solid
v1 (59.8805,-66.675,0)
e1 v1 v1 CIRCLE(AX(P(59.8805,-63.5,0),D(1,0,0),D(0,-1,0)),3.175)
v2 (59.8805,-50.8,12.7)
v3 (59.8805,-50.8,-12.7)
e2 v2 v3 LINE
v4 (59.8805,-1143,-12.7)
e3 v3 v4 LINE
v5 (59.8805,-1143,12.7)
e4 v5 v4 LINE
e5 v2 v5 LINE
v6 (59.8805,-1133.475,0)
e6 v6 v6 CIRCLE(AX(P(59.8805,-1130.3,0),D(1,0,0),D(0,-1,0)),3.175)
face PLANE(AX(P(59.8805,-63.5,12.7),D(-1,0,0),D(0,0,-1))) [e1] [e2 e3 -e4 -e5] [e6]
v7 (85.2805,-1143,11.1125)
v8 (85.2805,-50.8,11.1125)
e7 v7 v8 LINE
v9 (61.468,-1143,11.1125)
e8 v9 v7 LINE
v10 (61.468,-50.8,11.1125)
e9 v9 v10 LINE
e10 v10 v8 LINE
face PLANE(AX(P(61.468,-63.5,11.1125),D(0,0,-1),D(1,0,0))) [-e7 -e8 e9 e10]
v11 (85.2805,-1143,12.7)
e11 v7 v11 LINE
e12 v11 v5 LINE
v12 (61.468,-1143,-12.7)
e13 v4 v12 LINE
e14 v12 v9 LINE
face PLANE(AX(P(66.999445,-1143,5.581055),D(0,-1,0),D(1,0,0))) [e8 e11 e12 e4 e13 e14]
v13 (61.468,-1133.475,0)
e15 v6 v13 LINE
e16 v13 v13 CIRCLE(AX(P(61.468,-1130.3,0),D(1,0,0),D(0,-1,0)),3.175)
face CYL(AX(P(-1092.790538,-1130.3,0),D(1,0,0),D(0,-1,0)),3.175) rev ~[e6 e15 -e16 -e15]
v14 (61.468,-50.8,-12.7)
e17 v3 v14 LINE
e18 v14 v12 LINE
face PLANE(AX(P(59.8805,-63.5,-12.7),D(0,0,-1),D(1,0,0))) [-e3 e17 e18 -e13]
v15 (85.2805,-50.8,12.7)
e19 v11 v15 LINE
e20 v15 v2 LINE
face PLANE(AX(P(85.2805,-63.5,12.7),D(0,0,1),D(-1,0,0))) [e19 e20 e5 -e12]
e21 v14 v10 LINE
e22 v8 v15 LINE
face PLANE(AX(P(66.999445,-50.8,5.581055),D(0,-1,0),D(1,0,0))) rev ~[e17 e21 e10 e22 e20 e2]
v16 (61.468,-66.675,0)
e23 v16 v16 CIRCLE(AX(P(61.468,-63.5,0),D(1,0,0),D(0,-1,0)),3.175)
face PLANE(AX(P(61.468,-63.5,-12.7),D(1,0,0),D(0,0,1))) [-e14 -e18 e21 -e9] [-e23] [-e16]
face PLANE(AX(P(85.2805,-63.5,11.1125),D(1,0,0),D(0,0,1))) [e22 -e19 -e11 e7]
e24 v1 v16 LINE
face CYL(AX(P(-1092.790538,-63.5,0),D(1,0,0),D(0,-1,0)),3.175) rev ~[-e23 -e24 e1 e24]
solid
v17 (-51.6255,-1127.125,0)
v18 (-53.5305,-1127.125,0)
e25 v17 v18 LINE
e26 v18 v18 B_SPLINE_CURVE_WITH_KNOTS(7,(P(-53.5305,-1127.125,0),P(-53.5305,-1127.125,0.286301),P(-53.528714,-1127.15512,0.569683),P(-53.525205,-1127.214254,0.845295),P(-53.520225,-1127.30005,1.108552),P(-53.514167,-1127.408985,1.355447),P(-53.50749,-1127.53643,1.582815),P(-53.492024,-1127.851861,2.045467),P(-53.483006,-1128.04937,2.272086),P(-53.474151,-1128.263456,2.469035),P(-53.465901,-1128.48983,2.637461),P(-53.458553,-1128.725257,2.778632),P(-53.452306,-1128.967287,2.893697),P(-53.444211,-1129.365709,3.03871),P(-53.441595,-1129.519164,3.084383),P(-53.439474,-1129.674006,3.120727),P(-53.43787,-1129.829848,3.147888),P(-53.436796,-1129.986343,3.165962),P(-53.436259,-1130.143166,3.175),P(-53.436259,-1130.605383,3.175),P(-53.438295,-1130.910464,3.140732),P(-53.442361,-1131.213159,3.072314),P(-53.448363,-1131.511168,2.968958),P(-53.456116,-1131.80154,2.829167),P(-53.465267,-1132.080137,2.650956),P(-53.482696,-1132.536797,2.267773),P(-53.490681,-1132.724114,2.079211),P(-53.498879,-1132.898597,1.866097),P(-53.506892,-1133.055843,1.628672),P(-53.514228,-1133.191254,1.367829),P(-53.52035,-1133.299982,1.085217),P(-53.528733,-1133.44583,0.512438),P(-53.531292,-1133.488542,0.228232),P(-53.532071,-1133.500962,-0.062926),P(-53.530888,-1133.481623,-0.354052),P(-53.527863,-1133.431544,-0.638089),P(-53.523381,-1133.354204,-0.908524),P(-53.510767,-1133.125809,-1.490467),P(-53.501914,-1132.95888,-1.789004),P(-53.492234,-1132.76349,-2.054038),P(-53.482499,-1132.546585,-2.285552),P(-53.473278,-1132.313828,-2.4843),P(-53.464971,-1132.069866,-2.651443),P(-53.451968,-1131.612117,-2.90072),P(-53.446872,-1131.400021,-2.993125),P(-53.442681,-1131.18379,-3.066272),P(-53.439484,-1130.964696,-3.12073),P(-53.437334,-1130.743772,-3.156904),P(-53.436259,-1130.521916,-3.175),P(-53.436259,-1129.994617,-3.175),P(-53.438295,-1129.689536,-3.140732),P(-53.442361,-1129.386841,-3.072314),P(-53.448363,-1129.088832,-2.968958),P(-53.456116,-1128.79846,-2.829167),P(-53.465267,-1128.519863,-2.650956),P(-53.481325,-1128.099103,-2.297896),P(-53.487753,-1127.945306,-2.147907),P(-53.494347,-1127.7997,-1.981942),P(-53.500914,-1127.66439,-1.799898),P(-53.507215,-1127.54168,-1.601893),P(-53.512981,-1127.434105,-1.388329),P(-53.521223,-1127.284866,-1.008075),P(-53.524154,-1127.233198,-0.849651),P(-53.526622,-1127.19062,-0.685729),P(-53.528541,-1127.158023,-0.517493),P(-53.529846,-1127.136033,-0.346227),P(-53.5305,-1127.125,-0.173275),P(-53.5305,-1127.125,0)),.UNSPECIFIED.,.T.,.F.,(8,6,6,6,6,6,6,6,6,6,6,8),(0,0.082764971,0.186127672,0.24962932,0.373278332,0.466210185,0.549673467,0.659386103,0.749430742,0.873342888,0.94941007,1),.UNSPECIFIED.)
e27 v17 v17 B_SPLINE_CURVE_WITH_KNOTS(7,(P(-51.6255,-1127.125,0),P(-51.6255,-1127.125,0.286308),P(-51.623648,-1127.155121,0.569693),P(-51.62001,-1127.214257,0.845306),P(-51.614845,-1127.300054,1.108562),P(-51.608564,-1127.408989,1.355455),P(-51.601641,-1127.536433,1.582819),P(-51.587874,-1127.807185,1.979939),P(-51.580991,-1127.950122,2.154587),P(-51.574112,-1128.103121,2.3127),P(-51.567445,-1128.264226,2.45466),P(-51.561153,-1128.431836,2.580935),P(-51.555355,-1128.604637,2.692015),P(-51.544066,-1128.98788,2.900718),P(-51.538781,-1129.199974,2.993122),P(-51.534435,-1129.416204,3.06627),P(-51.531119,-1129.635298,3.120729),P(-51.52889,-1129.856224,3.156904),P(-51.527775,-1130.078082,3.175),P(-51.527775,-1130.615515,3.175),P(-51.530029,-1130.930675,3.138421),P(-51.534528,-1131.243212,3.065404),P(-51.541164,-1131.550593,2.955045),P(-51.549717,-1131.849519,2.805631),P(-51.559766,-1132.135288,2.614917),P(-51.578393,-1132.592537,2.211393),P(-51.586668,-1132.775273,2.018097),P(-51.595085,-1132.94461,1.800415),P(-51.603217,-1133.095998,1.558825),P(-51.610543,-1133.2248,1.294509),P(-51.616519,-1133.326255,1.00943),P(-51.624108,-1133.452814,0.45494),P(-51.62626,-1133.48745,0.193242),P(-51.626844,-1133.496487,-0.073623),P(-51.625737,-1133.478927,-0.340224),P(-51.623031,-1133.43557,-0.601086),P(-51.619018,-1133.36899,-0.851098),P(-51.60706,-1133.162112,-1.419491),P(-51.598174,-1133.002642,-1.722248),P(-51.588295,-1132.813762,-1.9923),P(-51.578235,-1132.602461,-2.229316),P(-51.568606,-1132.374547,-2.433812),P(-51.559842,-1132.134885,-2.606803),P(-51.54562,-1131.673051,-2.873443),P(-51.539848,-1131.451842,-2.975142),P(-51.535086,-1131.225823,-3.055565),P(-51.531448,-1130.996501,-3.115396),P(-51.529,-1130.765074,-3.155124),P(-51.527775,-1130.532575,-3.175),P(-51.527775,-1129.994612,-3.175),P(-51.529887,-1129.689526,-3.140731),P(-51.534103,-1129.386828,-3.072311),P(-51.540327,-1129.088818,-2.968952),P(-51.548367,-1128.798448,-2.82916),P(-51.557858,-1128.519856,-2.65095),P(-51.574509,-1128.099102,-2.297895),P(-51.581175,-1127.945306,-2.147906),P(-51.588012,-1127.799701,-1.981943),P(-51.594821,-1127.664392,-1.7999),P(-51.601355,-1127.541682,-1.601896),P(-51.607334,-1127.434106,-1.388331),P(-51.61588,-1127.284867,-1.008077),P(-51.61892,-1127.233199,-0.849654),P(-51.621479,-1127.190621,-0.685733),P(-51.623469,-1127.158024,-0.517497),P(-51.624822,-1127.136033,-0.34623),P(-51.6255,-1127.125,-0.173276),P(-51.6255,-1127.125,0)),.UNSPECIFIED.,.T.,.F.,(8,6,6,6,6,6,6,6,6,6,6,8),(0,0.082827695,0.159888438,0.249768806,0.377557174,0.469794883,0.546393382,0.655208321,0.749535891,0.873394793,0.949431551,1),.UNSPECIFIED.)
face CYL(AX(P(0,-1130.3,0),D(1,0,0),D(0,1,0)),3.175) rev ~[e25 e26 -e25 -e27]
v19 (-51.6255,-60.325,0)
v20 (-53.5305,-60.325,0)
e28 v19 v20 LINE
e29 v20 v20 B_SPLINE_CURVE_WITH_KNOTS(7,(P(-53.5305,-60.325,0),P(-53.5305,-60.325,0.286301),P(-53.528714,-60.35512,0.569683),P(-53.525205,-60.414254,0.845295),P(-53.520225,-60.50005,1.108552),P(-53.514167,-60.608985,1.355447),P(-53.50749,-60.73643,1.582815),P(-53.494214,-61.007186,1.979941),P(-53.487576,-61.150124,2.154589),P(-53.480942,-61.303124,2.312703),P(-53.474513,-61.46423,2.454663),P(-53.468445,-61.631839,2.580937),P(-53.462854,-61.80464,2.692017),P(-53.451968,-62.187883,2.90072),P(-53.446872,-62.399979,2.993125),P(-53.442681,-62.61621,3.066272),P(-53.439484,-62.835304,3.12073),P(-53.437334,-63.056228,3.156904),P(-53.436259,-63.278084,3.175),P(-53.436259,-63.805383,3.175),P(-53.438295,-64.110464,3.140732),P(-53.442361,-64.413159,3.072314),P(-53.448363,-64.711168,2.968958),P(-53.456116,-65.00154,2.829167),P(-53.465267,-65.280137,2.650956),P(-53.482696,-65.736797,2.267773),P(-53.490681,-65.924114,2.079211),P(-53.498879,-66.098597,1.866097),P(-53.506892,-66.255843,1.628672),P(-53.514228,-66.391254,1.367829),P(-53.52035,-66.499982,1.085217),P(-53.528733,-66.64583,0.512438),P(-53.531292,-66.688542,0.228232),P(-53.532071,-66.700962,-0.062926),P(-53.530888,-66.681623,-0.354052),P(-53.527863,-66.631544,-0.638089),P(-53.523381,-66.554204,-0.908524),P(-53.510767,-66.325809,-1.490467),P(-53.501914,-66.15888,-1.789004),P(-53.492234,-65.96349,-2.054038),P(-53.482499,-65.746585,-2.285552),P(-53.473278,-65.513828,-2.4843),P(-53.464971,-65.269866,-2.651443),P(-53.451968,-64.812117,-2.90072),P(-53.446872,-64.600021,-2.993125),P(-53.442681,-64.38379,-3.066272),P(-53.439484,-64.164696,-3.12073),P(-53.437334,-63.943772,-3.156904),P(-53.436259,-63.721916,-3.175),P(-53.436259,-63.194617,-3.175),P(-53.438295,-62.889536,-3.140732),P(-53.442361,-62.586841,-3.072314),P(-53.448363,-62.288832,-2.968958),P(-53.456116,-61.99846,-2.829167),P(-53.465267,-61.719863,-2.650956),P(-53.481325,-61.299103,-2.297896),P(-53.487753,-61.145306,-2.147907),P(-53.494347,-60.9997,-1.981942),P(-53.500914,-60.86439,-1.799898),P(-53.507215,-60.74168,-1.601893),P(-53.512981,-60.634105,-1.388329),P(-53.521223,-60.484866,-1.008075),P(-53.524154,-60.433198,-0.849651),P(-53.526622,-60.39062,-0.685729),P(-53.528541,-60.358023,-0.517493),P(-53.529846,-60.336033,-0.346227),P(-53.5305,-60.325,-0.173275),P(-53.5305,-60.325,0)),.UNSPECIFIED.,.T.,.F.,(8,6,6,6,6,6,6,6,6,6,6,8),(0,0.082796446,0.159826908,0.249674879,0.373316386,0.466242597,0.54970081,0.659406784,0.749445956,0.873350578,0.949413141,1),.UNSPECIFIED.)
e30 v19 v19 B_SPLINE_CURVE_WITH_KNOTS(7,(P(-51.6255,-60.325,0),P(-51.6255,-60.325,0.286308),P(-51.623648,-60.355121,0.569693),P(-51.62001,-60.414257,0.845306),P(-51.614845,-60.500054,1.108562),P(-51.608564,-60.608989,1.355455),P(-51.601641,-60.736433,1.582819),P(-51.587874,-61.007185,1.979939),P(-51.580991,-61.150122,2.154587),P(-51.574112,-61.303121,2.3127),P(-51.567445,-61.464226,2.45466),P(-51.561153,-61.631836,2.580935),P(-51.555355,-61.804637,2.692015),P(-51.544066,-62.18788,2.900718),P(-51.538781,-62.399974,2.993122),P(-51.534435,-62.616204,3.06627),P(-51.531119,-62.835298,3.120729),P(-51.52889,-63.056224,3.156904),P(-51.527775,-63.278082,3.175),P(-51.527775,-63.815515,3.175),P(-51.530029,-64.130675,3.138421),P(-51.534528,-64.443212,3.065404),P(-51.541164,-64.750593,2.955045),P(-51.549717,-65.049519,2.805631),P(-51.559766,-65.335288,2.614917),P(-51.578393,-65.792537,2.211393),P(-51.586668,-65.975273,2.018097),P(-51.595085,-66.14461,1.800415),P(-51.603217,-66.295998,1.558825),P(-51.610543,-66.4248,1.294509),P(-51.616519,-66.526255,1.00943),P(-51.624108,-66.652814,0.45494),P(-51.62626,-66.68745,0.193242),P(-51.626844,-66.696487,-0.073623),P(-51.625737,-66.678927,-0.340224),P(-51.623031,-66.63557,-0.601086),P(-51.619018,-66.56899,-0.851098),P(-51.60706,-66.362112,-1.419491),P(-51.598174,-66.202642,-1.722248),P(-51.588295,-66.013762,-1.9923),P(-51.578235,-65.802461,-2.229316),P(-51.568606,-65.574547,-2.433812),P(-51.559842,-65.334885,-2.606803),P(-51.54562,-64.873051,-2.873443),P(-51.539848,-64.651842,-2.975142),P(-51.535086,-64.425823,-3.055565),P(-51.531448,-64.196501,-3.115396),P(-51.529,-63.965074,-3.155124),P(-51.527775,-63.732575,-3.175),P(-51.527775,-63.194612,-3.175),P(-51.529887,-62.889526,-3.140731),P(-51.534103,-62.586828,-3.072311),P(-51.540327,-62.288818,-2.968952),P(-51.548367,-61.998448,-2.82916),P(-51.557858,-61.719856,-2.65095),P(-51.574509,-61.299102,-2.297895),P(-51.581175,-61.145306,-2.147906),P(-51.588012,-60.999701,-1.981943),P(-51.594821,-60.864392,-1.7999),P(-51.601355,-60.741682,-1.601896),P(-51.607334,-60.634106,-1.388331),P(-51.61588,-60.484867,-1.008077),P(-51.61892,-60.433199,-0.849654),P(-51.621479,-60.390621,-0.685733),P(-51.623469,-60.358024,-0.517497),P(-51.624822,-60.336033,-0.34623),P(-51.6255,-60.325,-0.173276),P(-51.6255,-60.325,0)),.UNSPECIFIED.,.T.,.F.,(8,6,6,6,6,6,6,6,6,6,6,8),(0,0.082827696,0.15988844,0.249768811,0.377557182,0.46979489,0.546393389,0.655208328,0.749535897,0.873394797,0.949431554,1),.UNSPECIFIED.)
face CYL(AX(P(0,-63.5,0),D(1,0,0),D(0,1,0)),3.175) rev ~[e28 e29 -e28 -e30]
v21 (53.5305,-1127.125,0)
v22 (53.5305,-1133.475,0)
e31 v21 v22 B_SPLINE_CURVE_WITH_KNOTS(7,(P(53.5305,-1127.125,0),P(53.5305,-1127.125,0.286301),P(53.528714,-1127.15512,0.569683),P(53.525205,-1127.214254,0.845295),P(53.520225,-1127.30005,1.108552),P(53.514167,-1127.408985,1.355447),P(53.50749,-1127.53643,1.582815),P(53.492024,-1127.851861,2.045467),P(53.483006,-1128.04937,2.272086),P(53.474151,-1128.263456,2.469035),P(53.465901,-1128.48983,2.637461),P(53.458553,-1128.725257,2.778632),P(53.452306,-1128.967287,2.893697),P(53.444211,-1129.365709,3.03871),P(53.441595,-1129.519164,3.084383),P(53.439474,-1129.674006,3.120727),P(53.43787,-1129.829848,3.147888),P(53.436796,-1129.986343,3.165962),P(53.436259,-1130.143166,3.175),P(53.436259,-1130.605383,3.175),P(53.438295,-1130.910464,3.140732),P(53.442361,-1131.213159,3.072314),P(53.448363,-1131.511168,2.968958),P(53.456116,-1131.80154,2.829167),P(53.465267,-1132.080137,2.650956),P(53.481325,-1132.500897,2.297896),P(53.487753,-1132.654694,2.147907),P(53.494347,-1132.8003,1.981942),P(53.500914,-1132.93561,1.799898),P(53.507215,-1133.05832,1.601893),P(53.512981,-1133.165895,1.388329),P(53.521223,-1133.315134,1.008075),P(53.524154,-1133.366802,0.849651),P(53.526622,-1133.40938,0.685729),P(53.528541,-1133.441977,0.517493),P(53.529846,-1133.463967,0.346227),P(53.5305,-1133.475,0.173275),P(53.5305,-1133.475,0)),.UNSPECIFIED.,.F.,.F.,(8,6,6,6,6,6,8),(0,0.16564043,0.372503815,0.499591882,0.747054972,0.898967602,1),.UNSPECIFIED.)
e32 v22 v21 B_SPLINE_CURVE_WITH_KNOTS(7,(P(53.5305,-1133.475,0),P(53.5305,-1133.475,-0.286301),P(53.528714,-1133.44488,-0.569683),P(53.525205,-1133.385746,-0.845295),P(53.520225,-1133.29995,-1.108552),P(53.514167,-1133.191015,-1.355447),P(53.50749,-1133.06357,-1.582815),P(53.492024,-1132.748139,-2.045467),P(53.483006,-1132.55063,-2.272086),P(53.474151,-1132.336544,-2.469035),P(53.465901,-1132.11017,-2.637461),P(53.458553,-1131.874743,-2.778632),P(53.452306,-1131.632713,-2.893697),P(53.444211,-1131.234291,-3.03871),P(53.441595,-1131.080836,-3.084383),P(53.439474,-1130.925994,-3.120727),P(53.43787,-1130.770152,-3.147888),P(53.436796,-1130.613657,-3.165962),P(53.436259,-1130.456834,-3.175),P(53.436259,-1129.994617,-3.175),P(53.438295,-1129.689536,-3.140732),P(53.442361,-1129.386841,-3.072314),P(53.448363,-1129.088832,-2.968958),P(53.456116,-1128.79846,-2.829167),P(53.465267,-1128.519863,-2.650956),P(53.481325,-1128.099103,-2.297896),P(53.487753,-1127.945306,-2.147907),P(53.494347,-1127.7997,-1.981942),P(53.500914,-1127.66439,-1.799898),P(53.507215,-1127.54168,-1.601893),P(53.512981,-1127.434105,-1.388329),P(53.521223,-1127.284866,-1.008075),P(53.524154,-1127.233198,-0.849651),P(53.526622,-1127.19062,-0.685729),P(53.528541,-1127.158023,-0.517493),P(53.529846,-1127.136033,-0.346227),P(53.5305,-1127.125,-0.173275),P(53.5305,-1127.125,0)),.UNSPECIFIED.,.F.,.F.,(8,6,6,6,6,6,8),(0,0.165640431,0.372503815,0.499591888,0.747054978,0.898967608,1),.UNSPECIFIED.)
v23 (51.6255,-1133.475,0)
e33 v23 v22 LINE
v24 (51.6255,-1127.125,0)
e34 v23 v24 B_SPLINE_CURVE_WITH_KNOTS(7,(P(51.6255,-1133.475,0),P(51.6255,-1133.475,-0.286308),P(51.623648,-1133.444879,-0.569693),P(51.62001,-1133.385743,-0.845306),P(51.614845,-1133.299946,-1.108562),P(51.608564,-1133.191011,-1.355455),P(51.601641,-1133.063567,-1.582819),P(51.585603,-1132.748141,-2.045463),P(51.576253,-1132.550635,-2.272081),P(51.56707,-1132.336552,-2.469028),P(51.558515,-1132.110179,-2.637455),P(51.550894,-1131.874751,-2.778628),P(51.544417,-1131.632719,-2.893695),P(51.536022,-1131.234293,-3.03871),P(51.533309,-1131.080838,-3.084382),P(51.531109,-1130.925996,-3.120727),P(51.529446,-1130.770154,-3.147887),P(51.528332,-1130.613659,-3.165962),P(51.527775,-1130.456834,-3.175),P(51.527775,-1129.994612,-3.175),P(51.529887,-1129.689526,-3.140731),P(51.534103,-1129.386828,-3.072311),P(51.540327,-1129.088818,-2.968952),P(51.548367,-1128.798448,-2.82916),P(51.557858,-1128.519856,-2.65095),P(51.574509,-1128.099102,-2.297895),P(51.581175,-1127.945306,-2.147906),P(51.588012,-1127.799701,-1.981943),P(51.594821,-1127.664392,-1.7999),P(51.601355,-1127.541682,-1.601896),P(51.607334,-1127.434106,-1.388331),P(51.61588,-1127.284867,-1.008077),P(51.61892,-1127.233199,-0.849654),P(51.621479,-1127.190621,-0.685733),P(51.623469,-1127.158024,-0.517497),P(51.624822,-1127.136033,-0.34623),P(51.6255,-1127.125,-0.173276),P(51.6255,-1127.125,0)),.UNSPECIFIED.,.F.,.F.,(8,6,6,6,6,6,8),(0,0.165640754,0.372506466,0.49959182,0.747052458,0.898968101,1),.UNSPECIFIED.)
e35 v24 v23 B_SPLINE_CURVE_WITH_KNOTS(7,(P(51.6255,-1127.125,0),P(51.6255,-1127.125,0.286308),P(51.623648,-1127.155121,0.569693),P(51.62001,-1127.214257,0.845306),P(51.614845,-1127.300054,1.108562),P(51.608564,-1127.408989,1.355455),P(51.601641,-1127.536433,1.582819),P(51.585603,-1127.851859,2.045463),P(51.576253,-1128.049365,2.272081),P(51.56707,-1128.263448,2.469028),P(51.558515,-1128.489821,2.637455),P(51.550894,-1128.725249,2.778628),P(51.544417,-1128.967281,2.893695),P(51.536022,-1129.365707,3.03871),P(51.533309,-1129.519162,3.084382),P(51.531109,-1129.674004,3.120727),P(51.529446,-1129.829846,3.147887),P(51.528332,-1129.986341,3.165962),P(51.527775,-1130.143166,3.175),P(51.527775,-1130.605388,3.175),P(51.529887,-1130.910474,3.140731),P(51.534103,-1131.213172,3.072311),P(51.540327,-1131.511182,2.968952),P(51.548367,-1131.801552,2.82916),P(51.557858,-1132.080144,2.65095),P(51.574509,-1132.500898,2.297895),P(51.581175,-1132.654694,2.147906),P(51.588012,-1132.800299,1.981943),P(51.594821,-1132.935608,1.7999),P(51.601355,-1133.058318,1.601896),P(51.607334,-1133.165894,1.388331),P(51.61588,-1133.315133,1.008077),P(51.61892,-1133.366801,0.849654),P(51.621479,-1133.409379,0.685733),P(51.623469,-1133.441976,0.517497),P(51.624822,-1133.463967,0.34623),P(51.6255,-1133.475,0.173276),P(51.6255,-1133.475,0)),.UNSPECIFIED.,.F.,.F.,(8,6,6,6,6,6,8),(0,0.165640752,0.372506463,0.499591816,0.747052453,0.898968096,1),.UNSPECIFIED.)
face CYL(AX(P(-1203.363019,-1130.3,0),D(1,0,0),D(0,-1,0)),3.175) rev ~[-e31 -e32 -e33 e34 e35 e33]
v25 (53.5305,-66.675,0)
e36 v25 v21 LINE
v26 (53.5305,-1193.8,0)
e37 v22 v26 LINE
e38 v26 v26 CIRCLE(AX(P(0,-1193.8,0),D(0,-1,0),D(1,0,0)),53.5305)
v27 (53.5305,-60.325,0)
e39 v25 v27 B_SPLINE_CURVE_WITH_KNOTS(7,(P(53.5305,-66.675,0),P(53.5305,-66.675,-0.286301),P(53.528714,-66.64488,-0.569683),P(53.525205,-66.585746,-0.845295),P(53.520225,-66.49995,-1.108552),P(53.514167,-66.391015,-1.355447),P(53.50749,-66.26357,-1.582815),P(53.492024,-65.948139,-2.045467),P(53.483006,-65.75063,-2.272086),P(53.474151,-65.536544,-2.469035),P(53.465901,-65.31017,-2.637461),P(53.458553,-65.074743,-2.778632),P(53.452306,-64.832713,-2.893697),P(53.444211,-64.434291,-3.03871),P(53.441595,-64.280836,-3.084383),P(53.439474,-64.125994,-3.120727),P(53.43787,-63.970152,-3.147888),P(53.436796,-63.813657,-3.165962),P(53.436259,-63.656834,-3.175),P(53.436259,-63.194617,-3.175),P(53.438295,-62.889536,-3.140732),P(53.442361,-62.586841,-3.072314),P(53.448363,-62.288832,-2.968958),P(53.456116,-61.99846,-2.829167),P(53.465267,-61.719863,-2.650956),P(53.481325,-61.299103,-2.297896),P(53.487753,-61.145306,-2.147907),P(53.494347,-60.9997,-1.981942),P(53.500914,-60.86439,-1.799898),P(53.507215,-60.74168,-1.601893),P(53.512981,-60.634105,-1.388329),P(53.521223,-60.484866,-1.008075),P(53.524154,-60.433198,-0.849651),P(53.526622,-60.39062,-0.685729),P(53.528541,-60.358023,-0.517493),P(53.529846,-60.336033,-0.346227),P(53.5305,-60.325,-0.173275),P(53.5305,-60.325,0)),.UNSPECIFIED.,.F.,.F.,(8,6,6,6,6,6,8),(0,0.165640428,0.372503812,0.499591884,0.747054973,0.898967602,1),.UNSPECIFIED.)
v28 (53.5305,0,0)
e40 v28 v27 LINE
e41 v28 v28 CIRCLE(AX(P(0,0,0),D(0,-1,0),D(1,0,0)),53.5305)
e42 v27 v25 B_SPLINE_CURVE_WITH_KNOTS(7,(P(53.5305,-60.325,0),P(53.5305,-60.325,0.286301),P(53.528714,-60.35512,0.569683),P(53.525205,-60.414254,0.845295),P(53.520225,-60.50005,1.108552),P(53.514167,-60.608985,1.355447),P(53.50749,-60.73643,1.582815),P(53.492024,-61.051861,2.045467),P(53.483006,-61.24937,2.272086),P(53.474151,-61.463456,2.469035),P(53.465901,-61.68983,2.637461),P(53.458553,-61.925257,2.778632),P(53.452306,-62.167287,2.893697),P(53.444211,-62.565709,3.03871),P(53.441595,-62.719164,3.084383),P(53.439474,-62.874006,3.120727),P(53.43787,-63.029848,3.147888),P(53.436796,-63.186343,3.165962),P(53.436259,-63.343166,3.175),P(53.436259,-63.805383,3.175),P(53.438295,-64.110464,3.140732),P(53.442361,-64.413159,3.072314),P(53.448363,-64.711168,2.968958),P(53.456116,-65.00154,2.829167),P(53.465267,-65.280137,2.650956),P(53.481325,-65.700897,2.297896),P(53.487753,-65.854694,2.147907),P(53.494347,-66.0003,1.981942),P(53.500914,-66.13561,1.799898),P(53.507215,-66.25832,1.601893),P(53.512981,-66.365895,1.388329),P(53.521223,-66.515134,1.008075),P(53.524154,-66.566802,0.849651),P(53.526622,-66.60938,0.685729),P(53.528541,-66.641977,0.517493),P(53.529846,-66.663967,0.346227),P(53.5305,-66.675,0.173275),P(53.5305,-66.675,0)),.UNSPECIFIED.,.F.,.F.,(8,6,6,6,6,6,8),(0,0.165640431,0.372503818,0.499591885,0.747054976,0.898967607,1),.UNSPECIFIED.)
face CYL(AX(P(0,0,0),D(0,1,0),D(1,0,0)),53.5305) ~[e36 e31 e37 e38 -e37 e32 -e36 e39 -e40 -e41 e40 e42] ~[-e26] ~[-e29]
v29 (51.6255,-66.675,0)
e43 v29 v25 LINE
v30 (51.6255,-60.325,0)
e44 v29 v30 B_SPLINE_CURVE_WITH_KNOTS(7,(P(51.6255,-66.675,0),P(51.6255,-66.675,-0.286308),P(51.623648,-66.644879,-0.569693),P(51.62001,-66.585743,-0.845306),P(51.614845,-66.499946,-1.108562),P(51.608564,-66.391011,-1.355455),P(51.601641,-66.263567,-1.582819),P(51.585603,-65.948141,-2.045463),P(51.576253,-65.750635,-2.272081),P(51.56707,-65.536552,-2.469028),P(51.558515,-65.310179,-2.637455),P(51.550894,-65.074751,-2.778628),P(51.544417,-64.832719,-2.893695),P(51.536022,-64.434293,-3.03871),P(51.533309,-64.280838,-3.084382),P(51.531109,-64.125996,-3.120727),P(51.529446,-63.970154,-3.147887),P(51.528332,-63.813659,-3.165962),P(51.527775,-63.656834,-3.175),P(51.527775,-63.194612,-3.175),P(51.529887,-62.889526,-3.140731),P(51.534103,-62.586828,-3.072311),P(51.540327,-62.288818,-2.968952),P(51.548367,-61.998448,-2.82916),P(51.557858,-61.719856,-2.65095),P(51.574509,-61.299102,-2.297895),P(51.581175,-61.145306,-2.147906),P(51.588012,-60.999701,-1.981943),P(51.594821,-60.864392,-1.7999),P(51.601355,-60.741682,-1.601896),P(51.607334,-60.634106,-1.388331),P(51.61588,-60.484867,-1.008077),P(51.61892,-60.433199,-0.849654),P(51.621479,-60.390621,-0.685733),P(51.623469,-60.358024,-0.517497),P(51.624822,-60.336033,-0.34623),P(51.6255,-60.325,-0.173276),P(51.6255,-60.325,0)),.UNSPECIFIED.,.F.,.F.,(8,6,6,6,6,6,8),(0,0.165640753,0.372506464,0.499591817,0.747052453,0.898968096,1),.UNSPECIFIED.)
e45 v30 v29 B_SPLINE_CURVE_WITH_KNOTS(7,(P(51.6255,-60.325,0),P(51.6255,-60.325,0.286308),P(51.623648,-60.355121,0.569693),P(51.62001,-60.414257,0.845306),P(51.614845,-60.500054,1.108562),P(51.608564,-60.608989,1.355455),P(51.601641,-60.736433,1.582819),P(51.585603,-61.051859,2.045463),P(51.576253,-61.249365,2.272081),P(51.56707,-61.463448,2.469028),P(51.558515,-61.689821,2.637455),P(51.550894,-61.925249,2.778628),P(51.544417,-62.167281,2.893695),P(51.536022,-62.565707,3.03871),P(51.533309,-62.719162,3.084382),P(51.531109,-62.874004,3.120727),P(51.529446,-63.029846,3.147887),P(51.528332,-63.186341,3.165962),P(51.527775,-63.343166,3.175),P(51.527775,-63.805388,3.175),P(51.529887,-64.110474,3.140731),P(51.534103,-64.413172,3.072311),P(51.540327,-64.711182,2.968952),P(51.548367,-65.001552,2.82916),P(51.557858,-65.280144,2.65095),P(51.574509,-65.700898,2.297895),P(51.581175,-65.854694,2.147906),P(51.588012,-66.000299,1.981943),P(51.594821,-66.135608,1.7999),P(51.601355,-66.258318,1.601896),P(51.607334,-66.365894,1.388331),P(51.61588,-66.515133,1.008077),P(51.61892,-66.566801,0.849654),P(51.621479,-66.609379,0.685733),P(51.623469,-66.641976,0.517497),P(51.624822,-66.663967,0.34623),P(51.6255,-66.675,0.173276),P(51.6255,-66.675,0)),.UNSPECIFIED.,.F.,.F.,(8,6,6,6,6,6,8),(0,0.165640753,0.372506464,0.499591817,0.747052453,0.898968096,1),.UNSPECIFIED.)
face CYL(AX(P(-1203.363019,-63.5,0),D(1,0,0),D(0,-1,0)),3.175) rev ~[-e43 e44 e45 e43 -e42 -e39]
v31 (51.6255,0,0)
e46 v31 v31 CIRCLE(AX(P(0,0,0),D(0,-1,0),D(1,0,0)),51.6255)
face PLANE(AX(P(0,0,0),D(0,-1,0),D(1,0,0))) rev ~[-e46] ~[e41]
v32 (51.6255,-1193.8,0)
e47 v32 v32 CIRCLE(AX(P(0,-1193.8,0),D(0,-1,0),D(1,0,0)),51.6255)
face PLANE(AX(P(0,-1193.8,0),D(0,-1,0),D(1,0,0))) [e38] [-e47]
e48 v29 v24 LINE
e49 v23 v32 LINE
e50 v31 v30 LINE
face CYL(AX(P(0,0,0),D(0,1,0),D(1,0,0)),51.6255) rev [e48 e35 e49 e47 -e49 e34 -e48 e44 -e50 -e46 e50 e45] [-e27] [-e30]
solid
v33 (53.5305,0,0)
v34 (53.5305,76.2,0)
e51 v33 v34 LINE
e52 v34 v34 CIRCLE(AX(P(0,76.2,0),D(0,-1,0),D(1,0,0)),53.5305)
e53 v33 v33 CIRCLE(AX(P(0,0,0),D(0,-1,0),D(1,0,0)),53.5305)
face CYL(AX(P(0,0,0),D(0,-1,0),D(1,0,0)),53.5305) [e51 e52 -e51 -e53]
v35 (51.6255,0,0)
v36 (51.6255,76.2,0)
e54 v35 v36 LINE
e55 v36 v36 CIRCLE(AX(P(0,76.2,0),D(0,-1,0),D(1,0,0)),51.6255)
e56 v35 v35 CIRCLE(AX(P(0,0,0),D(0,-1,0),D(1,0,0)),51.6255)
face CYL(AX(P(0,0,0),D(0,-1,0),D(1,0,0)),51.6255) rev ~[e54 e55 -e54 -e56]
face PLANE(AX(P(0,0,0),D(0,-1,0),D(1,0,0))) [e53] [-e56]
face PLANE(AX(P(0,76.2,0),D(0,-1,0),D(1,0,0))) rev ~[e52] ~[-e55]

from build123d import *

# Parameters (mm, degrees)
F0_R      = 53.5305
F0_R_2    = 51.6255
F1_DEPTH  = 1193.8
F2_DEPTH  = 76.2
F4_D      = 6.35
F4_DEPTH  = 53.5315
F5_D      = 6.35
F6_D      = 6.35
F6_DEPTH  = 53.5315001
F7_D      = 6.35
F11_DEPTH = 1066.8
F12_DEPTH = 12.7
F13_DEPTH = 12.7
F14_D     = 6.35
F15_D     = 6.35


with BuildPart() as f1:
    # F0 (on Front) → F1 (new body)
    with BuildSketch(Plane.XZ):
        Circle(F0_R)
        Circle(F0_R_2, mode=Mode.SUBTRACT)
    extrude(amount=F1_DEPTH)


with BuildPart() as f2:
    # F2 (new): a face of the model
    f2_faces = [f1.part.faces().sort_by_distance(p)[0] for p in [
        (-52.016428818, 0, 0),
    ]]
    extrude(f2_faces, amount=F2_DEPTH)


with BuildPart() as f1_1:
    add(f1.part)

    # F4 (through all, one way)
    with BuildSketch(Plane.YZ):
        with Locations((-1130.3, 0)):
            Circle(F4_D / 2)
    extrude(amount=-F4_DEPTH, mode=Mode.SUBTRACT)

    # F5 (through all)
    with Locations(Plane(origin=(0, 0, 0), x_dir=(0, 1, 0), z_dir=(-1, 0, 0))):
        with Locations((-1130.3, 0)):
            Hole(F5_D / 2)

    # F6 (through all, one way)
    with BuildSketch(Plane.YZ):
        with Locations((-63.5, 0)):
            Circle(F6_D / 2)
    extrude(amount=-F6_DEPTH, mode=Mode.SUBTRACT)

    # F7 (through all)
    with Locations(Plane(origin=(0, 0, 0), x_dir=(0, 1, 0), z_dir=(-1, 0, 0))):
        with Locations((-63.5, 0)):
            Hole(F7_D / 2)


with BuildPart() as f11:
    # F10 (on line) → F11 (new body, through all)
    with BuildSketch(Plane.XZ.offset(63.5)):
        Polygon((85.2805, 12.7), (59.8805, 12.7), (59.8805, -12.7), (61.468, -12.7), (61.468, 11.1125), (85.2805, 11.1125), align=None)
    extrude(amount=F11_DEPTH)

    # F12 (add): a face of the model
    f12_faces = [f11.faces().sort_by_distance(p)[0] for p in [
        (72.5805, -1130.3, 12.3407897552),
    ]]
    extrude(f12_faces, amount=F12_DEPTH)

    # F13 (add): a face of the model
    f13_faces = [f11.faces().sort_by_distance(p)[0] for p in [
        (72.5805, -63.5, 12.3407897552),
    ]]
    extrude(f13_faces, amount=F13_DEPTH)

    # F14 (through all)
    with Locations(Plane(origin=(0, 0, 0), x_dir=(0, 1, 0), z_dir=(-1, 0, 0))):
        with Locations((-1130.3, 0)):
            Hole(F14_D / 2)

    # F15 (through all)
    with Locations(Plane(origin=(0, 0, 0), x_dir=(0, 1, 0), z_dir=(-1, 0, 0))):
        with Locations((-63.5, 0)):
            Hole(F15_D / 2)


solid = Compound([f2.part, f1_1.part, f11.part])
